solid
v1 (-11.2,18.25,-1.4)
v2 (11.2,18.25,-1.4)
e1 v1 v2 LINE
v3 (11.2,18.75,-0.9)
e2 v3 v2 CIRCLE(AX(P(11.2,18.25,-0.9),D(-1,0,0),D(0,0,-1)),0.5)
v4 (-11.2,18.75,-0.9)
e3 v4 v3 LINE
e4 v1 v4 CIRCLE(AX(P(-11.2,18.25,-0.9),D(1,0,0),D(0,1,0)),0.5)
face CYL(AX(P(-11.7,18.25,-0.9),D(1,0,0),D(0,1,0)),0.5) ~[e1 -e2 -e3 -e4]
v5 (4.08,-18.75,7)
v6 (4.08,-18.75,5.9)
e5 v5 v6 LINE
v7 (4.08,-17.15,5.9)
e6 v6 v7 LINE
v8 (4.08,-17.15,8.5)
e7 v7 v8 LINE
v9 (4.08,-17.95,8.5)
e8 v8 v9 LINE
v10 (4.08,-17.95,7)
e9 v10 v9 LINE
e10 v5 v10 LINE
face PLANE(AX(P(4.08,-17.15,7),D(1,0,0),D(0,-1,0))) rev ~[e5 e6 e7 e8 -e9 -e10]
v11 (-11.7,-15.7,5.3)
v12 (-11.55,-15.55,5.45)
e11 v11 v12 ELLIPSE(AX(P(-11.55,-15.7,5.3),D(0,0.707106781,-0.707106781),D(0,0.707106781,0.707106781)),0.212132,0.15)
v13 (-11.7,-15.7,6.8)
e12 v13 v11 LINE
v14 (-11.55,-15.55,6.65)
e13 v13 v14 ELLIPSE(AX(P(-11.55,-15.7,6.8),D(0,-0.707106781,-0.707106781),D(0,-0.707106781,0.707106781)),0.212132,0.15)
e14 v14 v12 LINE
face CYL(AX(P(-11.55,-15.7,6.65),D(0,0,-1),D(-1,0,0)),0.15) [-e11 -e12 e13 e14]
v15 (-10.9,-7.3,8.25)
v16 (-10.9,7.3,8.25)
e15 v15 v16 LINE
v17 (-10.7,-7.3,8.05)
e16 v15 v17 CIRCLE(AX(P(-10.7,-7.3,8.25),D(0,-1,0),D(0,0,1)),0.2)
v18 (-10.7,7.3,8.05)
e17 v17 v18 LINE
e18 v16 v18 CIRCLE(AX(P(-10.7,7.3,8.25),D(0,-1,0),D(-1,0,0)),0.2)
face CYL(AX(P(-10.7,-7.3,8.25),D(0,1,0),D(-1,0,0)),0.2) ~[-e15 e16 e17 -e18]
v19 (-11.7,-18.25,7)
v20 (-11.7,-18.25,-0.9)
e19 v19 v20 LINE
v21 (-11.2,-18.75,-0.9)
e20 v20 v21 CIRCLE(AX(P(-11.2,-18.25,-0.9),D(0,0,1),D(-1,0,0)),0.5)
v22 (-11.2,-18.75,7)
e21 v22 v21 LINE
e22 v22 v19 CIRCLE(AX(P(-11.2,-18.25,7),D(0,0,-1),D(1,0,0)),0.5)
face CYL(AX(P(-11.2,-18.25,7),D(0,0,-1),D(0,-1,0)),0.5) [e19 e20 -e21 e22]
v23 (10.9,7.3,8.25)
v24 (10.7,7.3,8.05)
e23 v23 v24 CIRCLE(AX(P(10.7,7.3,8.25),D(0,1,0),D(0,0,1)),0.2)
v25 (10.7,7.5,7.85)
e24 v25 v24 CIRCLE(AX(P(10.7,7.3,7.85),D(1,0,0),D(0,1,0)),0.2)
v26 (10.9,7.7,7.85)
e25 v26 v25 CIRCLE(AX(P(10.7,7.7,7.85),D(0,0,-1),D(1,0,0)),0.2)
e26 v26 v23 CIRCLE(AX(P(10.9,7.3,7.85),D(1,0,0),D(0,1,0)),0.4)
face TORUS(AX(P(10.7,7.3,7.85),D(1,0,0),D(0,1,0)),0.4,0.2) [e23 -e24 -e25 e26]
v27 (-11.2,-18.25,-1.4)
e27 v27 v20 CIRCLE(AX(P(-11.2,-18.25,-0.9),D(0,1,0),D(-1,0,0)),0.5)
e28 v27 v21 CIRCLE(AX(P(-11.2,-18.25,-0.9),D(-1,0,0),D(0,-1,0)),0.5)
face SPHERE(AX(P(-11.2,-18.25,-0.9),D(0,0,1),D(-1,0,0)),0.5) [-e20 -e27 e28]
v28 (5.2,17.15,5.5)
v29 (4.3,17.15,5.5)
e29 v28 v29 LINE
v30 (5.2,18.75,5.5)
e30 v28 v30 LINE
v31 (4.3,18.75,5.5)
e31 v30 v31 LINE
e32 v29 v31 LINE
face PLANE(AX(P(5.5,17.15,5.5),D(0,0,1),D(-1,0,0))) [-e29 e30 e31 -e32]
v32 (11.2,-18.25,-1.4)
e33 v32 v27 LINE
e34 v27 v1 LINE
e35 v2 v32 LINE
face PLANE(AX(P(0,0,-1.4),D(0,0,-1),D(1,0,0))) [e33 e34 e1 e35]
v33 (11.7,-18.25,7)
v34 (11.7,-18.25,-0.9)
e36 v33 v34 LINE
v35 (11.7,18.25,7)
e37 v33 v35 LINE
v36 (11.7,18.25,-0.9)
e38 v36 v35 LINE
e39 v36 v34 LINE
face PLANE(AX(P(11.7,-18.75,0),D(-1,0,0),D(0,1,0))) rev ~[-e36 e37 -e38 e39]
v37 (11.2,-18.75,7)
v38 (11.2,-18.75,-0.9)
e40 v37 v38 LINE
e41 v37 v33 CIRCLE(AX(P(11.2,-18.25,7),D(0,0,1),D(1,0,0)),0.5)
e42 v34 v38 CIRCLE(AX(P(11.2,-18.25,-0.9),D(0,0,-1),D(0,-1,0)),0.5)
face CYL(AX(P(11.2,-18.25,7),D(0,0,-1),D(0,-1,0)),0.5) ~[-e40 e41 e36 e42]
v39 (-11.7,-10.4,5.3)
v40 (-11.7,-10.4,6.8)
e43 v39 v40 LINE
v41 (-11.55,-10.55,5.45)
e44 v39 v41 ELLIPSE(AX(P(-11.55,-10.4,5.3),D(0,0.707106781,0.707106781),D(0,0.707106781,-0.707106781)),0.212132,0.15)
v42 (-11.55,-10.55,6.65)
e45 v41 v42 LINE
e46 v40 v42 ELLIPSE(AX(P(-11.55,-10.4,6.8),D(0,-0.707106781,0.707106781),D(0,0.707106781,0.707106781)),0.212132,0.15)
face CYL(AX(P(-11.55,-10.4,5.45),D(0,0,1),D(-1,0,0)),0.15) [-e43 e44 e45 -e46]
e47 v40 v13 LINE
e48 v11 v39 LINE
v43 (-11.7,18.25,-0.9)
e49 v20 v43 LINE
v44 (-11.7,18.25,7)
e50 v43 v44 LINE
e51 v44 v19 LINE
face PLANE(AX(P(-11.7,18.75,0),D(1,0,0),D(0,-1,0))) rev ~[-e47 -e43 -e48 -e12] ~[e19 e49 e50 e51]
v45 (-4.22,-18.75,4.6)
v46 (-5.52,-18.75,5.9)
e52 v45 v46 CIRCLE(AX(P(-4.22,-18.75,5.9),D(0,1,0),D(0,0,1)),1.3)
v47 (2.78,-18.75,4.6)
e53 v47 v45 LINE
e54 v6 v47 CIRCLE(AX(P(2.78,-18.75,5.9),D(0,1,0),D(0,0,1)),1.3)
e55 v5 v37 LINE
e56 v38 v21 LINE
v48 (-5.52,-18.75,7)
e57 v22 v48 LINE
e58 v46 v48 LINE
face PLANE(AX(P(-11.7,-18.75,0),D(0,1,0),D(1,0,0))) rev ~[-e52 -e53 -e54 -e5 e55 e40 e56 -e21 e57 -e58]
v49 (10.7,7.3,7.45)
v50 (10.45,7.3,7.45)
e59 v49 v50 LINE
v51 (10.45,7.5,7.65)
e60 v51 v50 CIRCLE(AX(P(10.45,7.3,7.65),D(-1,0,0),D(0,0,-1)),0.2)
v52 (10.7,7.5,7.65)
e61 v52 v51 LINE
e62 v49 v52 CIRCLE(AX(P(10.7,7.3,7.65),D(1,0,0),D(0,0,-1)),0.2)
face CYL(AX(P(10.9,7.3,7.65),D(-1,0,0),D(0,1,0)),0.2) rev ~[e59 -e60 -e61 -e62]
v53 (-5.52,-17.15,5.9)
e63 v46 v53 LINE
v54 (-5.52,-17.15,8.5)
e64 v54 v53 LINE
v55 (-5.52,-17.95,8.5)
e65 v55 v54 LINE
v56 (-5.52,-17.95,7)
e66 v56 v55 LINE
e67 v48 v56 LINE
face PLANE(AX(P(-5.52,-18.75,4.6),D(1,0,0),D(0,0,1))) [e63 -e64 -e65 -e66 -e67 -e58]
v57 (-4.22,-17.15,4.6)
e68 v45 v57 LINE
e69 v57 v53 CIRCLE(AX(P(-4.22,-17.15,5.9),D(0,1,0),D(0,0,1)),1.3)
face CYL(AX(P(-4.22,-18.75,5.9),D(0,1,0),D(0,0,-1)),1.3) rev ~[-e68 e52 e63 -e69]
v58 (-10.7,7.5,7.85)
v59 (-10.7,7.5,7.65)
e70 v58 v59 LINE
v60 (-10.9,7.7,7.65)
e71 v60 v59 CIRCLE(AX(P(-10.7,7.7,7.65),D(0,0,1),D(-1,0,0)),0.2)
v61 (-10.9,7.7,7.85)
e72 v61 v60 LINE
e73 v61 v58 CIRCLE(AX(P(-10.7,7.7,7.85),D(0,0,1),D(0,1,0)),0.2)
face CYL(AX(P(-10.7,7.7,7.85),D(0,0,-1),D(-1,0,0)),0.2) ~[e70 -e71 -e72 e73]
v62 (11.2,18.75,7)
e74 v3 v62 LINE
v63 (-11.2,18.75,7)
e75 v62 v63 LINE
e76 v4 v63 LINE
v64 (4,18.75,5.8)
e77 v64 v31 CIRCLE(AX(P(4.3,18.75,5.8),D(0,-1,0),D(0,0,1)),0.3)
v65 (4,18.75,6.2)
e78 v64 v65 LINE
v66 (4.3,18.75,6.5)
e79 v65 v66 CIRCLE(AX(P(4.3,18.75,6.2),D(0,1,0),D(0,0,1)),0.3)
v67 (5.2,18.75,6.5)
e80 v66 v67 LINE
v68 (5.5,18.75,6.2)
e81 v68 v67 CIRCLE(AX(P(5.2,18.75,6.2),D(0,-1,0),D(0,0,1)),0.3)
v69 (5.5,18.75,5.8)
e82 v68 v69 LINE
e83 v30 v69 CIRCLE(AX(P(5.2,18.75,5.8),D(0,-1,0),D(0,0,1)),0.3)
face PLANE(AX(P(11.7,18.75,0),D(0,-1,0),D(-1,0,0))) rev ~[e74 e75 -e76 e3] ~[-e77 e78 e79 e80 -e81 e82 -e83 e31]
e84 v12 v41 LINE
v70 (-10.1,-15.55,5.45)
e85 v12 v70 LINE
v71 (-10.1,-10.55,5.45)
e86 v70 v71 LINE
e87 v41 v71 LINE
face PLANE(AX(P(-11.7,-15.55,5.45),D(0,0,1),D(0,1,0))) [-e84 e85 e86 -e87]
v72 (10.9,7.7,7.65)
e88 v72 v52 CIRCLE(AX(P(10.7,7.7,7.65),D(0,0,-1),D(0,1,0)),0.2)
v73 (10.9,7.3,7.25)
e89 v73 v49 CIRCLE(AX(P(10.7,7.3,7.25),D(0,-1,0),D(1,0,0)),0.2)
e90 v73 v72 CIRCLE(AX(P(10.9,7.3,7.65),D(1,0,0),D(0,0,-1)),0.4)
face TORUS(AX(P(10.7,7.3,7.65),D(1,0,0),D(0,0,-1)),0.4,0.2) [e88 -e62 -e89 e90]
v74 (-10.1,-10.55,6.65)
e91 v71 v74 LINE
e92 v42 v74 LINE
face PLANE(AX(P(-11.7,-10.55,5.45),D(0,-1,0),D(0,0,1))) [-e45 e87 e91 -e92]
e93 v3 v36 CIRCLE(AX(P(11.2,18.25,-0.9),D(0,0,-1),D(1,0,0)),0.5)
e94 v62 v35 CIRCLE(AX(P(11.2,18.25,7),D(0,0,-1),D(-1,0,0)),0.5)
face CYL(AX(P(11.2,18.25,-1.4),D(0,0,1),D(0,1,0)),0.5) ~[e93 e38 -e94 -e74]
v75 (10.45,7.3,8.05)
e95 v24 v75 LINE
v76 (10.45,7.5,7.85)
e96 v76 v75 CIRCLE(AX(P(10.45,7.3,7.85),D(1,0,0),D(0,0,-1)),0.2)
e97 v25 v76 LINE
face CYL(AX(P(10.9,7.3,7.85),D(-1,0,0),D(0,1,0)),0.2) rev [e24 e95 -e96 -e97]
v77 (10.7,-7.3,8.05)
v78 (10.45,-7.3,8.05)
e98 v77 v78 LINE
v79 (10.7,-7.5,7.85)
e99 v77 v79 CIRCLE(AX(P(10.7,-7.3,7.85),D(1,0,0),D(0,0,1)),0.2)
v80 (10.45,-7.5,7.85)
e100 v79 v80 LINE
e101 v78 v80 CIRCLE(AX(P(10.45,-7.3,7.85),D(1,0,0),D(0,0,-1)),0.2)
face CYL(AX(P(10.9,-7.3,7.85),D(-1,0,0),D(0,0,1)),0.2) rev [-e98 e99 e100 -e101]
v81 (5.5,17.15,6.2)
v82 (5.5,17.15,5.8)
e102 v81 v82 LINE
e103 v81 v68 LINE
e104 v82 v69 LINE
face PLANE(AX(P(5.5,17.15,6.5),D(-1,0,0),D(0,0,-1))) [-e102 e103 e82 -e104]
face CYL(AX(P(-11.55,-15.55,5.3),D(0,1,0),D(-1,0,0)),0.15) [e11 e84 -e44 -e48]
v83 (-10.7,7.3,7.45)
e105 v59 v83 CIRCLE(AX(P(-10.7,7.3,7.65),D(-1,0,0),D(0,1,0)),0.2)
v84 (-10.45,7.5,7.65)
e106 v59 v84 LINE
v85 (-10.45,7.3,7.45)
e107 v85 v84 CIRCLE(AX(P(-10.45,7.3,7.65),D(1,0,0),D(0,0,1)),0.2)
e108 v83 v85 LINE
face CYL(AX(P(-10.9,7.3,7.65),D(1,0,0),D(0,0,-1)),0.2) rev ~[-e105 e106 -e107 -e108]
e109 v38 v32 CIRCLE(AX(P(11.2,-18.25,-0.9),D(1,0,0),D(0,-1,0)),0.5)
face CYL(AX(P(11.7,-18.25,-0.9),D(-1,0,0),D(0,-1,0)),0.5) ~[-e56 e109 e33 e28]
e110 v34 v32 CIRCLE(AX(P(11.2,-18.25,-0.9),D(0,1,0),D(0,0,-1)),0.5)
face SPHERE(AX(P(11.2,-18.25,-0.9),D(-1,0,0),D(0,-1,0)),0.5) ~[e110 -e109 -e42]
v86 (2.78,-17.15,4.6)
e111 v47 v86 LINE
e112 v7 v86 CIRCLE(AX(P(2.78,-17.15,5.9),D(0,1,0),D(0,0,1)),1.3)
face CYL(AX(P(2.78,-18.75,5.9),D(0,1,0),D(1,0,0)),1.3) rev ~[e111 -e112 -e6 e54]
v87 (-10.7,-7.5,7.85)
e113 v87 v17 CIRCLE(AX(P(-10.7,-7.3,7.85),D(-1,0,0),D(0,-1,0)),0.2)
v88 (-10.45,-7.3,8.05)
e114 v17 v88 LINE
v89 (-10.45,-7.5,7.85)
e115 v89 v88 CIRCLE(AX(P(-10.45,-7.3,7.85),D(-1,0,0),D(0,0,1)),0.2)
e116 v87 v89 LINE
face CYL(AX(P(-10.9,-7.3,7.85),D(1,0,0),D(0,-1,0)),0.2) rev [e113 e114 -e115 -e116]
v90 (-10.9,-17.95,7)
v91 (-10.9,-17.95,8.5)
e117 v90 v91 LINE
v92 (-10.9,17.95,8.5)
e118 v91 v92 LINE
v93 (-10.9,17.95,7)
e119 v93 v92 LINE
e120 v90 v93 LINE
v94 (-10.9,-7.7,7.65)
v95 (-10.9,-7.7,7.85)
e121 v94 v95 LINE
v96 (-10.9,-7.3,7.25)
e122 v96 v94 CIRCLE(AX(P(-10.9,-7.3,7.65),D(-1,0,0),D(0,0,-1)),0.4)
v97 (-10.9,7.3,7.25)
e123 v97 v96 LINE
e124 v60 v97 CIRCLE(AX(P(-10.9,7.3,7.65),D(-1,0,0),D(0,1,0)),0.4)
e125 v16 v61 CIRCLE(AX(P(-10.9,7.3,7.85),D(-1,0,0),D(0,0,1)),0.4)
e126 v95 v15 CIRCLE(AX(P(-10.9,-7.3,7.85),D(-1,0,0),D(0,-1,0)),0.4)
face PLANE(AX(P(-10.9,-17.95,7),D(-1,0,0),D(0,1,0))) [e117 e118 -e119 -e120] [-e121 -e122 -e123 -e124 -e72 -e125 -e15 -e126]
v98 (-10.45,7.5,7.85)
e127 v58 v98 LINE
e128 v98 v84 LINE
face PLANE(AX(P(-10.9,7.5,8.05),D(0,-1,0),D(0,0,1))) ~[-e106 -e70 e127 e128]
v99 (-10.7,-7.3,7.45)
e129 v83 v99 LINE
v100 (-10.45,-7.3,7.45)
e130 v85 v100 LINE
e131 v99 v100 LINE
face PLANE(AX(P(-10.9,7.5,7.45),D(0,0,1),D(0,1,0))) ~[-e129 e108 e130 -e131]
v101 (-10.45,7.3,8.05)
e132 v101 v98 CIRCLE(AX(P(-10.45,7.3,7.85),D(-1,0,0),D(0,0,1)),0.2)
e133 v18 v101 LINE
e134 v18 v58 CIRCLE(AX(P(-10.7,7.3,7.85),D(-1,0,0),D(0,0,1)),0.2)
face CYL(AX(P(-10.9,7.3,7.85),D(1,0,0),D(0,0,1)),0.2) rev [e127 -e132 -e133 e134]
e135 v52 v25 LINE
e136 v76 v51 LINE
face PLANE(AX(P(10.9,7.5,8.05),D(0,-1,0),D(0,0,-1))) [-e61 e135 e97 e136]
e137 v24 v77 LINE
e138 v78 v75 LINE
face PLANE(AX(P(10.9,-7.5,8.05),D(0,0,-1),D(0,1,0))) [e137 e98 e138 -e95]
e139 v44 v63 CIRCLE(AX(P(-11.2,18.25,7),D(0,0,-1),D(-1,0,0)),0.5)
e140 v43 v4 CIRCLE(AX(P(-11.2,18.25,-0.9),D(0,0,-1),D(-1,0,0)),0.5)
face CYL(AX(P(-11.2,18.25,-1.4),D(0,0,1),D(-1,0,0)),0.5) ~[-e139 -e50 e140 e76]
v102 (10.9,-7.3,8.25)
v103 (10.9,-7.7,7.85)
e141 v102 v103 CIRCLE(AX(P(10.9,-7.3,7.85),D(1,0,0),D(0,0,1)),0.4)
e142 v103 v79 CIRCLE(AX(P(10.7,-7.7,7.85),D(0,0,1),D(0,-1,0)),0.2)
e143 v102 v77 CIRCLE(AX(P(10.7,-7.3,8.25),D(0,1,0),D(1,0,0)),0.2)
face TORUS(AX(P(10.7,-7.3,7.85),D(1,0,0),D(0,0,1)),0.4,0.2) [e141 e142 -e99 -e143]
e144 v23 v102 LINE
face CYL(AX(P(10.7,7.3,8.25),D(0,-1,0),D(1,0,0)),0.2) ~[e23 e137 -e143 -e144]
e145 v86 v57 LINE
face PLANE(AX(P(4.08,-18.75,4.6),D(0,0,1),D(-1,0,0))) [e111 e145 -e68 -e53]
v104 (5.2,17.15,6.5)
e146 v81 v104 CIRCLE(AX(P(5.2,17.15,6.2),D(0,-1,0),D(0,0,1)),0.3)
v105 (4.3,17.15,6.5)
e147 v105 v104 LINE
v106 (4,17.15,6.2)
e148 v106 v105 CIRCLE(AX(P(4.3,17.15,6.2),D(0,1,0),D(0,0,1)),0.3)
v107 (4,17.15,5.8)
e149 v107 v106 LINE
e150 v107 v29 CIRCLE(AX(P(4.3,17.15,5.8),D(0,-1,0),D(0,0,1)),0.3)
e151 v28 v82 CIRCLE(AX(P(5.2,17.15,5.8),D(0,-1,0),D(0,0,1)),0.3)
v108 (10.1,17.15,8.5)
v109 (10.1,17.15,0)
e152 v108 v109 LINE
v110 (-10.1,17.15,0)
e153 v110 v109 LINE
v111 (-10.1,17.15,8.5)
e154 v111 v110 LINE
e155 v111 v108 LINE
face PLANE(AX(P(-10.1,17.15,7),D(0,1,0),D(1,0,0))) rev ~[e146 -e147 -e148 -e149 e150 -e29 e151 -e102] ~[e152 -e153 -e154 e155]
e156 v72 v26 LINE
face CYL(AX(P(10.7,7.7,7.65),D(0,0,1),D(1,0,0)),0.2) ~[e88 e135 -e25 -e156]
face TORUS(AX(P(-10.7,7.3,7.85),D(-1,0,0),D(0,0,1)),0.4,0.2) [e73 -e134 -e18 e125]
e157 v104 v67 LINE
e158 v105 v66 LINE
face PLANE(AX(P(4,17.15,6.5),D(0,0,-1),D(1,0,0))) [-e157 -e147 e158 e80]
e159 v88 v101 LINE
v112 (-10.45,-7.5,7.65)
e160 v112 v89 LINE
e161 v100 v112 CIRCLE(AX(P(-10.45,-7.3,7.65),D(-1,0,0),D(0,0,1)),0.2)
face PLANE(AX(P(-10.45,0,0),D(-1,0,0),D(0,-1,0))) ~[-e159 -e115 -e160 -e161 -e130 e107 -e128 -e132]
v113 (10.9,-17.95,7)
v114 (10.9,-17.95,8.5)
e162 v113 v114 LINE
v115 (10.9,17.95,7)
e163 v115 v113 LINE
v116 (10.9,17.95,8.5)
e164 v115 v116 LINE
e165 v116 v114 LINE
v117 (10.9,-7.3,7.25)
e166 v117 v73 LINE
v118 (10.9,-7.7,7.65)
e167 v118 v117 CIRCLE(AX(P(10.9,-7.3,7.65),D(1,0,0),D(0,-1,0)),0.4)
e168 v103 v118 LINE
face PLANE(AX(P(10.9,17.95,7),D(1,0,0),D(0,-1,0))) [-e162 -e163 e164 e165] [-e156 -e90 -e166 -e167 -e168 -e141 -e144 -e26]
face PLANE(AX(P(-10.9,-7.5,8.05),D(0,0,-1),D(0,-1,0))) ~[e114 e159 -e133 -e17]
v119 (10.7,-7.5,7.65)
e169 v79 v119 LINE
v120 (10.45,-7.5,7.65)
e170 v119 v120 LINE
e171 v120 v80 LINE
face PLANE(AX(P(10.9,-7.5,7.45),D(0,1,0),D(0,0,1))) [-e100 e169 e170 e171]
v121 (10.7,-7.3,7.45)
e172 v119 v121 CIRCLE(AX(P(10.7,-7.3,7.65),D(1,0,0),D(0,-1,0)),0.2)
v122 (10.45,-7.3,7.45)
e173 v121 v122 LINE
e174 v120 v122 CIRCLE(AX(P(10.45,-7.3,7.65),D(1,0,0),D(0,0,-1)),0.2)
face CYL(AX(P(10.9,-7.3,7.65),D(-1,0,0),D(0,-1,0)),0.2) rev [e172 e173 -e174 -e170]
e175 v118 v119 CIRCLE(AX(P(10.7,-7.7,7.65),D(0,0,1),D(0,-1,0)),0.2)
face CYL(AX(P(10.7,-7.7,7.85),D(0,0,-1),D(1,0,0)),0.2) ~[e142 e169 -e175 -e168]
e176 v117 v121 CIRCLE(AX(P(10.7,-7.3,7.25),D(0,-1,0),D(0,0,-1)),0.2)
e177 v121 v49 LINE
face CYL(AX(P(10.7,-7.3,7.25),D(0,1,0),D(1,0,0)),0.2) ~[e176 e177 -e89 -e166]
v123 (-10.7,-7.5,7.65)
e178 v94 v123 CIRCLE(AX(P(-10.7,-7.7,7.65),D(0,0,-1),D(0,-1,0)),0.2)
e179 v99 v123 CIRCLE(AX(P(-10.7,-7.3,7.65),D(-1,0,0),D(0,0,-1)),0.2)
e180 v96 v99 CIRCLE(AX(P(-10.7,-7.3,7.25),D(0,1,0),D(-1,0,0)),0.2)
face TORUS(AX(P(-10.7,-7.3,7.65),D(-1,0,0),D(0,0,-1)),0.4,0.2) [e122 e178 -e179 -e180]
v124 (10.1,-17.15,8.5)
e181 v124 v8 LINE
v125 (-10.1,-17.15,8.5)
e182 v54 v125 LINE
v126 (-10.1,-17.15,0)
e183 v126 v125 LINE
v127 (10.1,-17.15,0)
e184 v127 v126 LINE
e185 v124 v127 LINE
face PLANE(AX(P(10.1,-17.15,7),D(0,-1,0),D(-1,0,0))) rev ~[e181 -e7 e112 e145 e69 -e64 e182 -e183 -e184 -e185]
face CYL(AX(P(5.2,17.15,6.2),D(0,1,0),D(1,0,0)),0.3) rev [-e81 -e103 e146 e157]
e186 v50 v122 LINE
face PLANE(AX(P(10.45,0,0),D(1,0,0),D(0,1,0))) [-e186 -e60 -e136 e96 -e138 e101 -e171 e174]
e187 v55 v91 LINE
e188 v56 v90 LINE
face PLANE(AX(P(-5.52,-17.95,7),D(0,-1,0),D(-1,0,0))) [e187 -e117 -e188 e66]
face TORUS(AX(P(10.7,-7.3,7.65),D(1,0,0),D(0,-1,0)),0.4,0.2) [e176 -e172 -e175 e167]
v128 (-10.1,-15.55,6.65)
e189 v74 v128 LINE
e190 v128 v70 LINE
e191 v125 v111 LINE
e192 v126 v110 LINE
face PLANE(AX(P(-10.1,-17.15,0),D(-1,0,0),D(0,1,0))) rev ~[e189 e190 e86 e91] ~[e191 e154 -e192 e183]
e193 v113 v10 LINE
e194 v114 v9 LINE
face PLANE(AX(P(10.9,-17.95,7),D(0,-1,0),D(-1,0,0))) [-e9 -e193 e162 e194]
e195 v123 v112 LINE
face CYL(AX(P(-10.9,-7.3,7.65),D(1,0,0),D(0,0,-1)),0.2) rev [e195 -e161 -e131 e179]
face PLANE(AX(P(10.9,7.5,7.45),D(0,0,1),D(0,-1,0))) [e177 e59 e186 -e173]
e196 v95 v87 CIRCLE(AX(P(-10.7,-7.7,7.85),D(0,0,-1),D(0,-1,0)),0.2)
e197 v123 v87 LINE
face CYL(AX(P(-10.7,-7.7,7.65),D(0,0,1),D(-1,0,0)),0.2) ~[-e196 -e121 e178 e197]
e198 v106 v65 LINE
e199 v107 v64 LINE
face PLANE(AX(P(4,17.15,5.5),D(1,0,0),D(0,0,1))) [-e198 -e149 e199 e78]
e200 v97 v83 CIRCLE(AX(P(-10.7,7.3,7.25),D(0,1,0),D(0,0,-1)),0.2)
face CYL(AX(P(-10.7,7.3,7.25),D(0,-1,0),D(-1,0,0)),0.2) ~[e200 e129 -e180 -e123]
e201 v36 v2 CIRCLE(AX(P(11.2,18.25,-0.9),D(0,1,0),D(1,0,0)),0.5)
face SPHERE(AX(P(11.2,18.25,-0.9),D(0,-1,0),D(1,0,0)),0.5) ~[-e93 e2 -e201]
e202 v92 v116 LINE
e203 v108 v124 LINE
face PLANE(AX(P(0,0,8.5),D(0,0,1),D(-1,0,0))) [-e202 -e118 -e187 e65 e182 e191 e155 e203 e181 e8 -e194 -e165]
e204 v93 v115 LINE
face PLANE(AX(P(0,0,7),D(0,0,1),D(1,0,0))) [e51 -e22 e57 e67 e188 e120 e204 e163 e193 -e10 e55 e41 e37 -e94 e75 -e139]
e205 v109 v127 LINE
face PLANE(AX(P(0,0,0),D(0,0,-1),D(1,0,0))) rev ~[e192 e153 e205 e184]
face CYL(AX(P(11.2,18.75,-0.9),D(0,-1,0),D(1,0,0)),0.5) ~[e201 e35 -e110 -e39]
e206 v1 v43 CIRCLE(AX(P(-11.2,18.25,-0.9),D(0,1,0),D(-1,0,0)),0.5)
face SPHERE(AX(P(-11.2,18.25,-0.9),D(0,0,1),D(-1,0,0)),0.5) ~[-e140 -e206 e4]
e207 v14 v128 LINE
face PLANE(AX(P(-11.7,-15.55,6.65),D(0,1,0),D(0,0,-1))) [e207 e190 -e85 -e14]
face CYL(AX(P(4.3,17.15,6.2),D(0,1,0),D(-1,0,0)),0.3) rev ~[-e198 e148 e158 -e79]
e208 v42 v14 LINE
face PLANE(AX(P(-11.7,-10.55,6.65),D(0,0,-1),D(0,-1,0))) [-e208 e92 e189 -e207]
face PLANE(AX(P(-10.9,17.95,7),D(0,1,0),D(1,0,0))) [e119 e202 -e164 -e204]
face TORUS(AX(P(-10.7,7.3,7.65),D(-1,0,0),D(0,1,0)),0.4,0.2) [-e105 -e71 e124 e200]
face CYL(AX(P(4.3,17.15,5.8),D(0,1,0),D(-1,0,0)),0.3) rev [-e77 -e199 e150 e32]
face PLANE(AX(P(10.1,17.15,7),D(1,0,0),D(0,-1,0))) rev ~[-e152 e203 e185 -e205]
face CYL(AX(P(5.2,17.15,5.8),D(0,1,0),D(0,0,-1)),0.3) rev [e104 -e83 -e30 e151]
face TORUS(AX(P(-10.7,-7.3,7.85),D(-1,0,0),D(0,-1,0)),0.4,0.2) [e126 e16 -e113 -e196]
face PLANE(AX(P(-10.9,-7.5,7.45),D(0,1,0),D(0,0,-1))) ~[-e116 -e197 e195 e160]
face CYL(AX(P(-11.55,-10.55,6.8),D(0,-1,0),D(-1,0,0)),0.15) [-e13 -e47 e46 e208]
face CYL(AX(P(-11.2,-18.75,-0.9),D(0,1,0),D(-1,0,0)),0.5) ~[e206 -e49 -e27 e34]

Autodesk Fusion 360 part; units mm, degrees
sketch "Sketch1" plane through (0, 0, 0) normal (0, 0, 1) x (1, 0, 0)
  line L0 (10.1, -17.15) -> (-10.1, -17.15)
  line L1 (-10.1, -17.15) -> (-10.1, 17.15)
  line L2 (-10.1, 17.15) -> (10.1, 17.15)
  line L3 (10.1, 17.15) -> (10.1, -17.15)
  line L4 (10.1, -17.15) -> (-10.1, 17.15) construction
  line L5 (-10.1, -17.15) -> (10.1, 17.15) construction
  line L6 (11.7, 18.75) -> (-11.7, 18.75)
  line L7 (-11.7, 18.75) -> (-11.7, -18.75)
  line L8 (-11.7, -18.75) -> (11.7, -18.75)
  line L9 (11.7, -18.75) -> (11.7, 18.75)
  line L10 (11.7, 18.75) -> (-11.7, -18.75) construction
  line L11 (-11.7, 18.75) -> (11.7, -18.75) construction
  dimension "d1" = 20.2
  dimension "d2" = 34.3
  dimension "d4" = 1.6
  dimension "d5" = 1.6
extrude "Extrude1" add sketch "Sketch1" along normal blind 7
sketch "Sketch2" plane through (0, 0, 0) normal (0, 0, -1) x (1, 0, 0)
  line L0 (10.1, -17.15) -> (-10.1, -17.15)
  line L1 (-10.1, -17.15) -> (-10.1, 17.15)
  line L2 (-10.1, 17.15) -> (10.1, 17.15)
  line L3 (10.1, 17.15) -> (10.1, -17.15)
  line L4 (11.7, -18.75) -> (11.7, 18.75)
  line L5 (11.7, 18.75) -> (-11.7, 18.75)
  line L6 (-11.7, 18.75) -> (-11.7, -18.75)
  line L7 (-11.7, -18.75) -> (11.7, -18.75)
  line L8 (-11.7, 18.75) -> (11.7, 18.75)
  line L9 (11.7, 18.75) -> (11.7, -18.75)
  line L10 (11.7, -18.75) -> (-11.7, -18.75)
  line L11 (-11.7, -18.75) -> (-11.7, 18.75)
extrude "Extrude2" add sketch "Sketch2" along normal blind 1.4 contours L0 L1 L2 L3 | L4 L5 L6 L7 L8 L9 L10 L11
sketch "Sketch3" plane through (0, -18.75, 0) normal (0, -1, 0) x (1, 0, 0)
  line L0 (11.7, -1.4) -> (11.7, 7)
  line L1 (11.7, 7) -> (-11.7, 7)
  line L2 (-11.7, 7) -> (-11.7, -1.4)
  line L3 (-11.7, -1.4) -> (11.7, -1.4)
  line L4 (-5.52, 7) -> (4.08, 7)
  line L5 (4.08, 7) -> (4.08, 4.6)
  line L6 (4.08, 4.6) -> (-5.52, 4.6)
  line L7 (-5.52, 4.6) -> (-5.52, 7)
  dimension "d10" = 6
  dimension "d11" = 6.18
  dimension "d14" = 9.6
extrude "Extrude3" cut sketch "Sketch3" against normal up to surface (1.6 mm away) contours L1 L4 L5 L6 L7
fillet "Fillet1" radius 1.3 2 edges at (-5.52, -17.95, 4.6) (4.08, -17.95, 4.6)
sketch "Sketch4" plane through (-11.7, 0, 0) normal (-1, 0, 0) x (0, -1, 0)
  line L0 (18.75, -1.4) -> (18.75, 7)
  line L1 (18.75, 7) -> (-18.75, 7)
  line L2 (-18.75, 7) -> (-18.75, -1.4)
  line L3 (-18.75, -1.4) -> (18.75, -1.4)
  line L4 (10.55, 6.65) -> (15.55, 6.65)
  line L5 (15.55, 6.65) -> (15.55, 5.45)
  line L6 (15.55, 5.45) -> (10.55, 5.45)
  line L7 (10.55, 5.45) -> (10.55, 6.65)
  dimension "d17" = 3.2
  dimension "d18" = 5
  dimension "d19" = 1.2
  dimension "d22" = 0.35
extrude "Extrude4" cut sketch "Sketch4" against normal up to surface (1.6 mm away) contours L4 L5 L6 L7
fillet "Fillet2" radius 0.15 4 edges at (-11.7, -13.05, 5.45) (-11.7, -10.55, 6.05) (-11.7, -13.05, 6.65) (-11.7, -15.55, 6.05)
sketch "Sketch5" plane through (0, 0, 7) normal (0, 0, 1) x (-1, 0, 0)
  line L0 (-4.08, 17.15) -> (-4.08, 18.75)
  line L1 (-4.08, 18.75) -> (-11.7, 18.75)
  line L2 (-11.7, 18.75) -> (-11.7, -18.75)
  line L3 (-11.7, -18.75) -> (11.7, -18.75)
  line L4 (11.7, -18.75) -> (11.7, 18.75)
  line L5 (11.7, 18.75) -> (5.52, 18.75)
  line L6 (5.52, 18.75) -> (5.52, 17.15)
  line L7 (5.52, 17.15) -> (10.1, 17.15)
  line L8 (10.1, 17.15) -> (10.1, -17.15)
  line L9 (10.1, -17.15) -> (-10.1, -17.15)
  line L10 (-10.1, -17.15) -> (-10.1, 17.15)
  line L11 (-10.1, 17.15) -> (-4.08, 17.15)
  line L12 (10.9, -17.95) -> (-10.9, -17.95)
  line L13 (-10.9, -17.95) -> (-10.9, 17.95)
  line L14 (-10.9, 17.95) -> (10.9, 17.95)
  line L15 (10.9, 17.95) -> (10.9, -17.95)
  dimension "d26" = 0.8
  dimension "d27" = 0.8
  dimension "d28" = 0.8
  dimension "d29" = 0.8
extrude "Extrude5" add sketch "Sketch5" along normal blind 1.5 contours L0 L6 L7 L8 L9 L10 L11 L12 L13 L14 L15
sketch "Sketch7" plane through (10.9, 0, 0) normal (1, 0, 0) x (0, 1, 0)
  line L0 (-17.95, 7) -> (17.95, 7)
  line L1 (17.95, 7) -> (17.95, 8.5)
  line L2 (17.95, 8.5) -> (-17.95, 8.5)
  line L3 (-17.95, 8.5) -> (-17.95, 7)
  line L4 (-17.95, 8.5) -> (17.95, 7) construction
  line L5 (17.95, 8.5) -> (-17.95, 7) construction
  line L6 (0, 7.75) -> (-14.5, 7.75) construction
  line L7 (7.5, 7.45) -> (-7.5, 7.45)
  line L8 (-7.5, 7.45) -> (-7.5, 8.05)
  line L9 (-7.5, 8.05) -> (7.5, 8.05)
  line L10 (7.5, 8.05) -> (7.5, 7.45)
  line L11 (7.5, 7.45) -> (-7.5, 8.05) construction
  line L12 (-7.5, 7.45) -> (7.5, 8.05) construction
  point P0 (0, 7.75)
  dimension "d32" = 15
  dimension "d33" = 0.6
ref_plane "WorkPlane1" through (0, 0, 7.75) normal (1, 0, 0) x (0, 1, 0)
extrude "Extrude6" cut sketch "Sketch7" against normal blind 0.45 contours L7 L8 L9 L10
fillet "Fillet5" radius 0.2 4 edges at (10.675, -7.5, 7.45) (10.675, -7.5, 8.05) (10.675, 7.5, 7.45) (10.675, 7.5, 8.05)
fillet "Fillet6" radius 0.2 8 edges at (10.9, -7.4414, 7.5086) (10.9, 0, 7.45) (10.9, 7.4414, 7.5086) (10.9, 7.5, 7.75) (10.9, 7.4414, 7.9914) (10.9, 0, 8.05) (10.9, -7.4414, 7.9914) (10.9, -7.5, 7.75)
mirror "Mirror2" about plane through (0, 0, 7.75) normal (1, 0, 0) of "Extrude6"
fillet "Fillet7" radius 0.2 4 edges at (-10.675, 7.5, 7.45) (-10.675, 7.5, 8.05) (-10.675, -7.5, 7.45) (-10.675, -7.5, 8.05)
fillet "Fillet8" radius 0.2 8 edges at (-10.9, -7.4414, 7.9914) (-10.9, -7.5, 7.75) (-10.9, -7.4414, 7.5086) (-10.9, 0, 7.45) (-10.9, 7.4414, 7.5086) (-10.9, 7.5, 7.75) (-10.9, 7.4414, 7.9914) (-10.9, 0, 8.05)
fillet "Fillet9" radius 0.5 8 edges at (-11.7, 18.75, 2.8) (-11.7, -18.75, 2.8) (-11.7, 0, -1.4) (0, -18.75, -1.4) (11.7, -18.75, 2.8) (11.7, 0, -1.4) (11.7, 18.75, 2.8) (0, 18.75, -1.4)
sketch "Sketch8" plane through (0, 17.15, 0) normal (0, -1, 0) x (1, 0, 0)
  line L0 (-10.1, 0) -> (10.1, 0)
  line L1 (10.1, 0) -> (10.1, 8.5)
  line L2 (10.1, 8.5) -> (-10.1, 8.5)
  line L3 (-10.1, 8.5) -> (-10.1, 0)
  line L4 (4, 6.5) -> (5.5, 6.5)
  line L5 (5.5, 6.5) -> (5.5, 5.5)
  line L6 (5.5, 5.5) -> (4, 5.5)
  line L7 (4, 5.5) -> (4, 6.5)
  dimension "d55" = 4.6
  dimension "d56" = 1
  dimension "d57" = 1.5
  dimension "d58" = 2
extrude "Extrude7" cut sketch "Sketch8" against normal up to surface (1.6 mm away) contours L4 L5 L6 L7
fillet "Fillet10" radius 0.3 4 edges at (5.5, 17.95, 5.5) (5.5, 17.95, 6.5) (4, 17.95, 6.5) (4, 17.95, 5.5)
equation "case_thickness = 1.6 mm"
equation "d4 = case_thickness"
equation "d5 = case_thickness"
equation "d8 = case_thickness - 0.2 mm"
equation "d11 = 4.58 mm + case_thickness"
equation "lock_rim = 0.8 mm"
equation "d26 = lock_rim"
equation "d27 = lock_rim"
equation "d28 = lock_rim"
equation "d29 = lock_rim"
equation "d43 = clip_roundness"
equation "d45 = clip_roundness"
equation "clip_roundness = 0.2 mm"
equation "d50 = clip_roundness"
equation "d52 = clip_roundness"
